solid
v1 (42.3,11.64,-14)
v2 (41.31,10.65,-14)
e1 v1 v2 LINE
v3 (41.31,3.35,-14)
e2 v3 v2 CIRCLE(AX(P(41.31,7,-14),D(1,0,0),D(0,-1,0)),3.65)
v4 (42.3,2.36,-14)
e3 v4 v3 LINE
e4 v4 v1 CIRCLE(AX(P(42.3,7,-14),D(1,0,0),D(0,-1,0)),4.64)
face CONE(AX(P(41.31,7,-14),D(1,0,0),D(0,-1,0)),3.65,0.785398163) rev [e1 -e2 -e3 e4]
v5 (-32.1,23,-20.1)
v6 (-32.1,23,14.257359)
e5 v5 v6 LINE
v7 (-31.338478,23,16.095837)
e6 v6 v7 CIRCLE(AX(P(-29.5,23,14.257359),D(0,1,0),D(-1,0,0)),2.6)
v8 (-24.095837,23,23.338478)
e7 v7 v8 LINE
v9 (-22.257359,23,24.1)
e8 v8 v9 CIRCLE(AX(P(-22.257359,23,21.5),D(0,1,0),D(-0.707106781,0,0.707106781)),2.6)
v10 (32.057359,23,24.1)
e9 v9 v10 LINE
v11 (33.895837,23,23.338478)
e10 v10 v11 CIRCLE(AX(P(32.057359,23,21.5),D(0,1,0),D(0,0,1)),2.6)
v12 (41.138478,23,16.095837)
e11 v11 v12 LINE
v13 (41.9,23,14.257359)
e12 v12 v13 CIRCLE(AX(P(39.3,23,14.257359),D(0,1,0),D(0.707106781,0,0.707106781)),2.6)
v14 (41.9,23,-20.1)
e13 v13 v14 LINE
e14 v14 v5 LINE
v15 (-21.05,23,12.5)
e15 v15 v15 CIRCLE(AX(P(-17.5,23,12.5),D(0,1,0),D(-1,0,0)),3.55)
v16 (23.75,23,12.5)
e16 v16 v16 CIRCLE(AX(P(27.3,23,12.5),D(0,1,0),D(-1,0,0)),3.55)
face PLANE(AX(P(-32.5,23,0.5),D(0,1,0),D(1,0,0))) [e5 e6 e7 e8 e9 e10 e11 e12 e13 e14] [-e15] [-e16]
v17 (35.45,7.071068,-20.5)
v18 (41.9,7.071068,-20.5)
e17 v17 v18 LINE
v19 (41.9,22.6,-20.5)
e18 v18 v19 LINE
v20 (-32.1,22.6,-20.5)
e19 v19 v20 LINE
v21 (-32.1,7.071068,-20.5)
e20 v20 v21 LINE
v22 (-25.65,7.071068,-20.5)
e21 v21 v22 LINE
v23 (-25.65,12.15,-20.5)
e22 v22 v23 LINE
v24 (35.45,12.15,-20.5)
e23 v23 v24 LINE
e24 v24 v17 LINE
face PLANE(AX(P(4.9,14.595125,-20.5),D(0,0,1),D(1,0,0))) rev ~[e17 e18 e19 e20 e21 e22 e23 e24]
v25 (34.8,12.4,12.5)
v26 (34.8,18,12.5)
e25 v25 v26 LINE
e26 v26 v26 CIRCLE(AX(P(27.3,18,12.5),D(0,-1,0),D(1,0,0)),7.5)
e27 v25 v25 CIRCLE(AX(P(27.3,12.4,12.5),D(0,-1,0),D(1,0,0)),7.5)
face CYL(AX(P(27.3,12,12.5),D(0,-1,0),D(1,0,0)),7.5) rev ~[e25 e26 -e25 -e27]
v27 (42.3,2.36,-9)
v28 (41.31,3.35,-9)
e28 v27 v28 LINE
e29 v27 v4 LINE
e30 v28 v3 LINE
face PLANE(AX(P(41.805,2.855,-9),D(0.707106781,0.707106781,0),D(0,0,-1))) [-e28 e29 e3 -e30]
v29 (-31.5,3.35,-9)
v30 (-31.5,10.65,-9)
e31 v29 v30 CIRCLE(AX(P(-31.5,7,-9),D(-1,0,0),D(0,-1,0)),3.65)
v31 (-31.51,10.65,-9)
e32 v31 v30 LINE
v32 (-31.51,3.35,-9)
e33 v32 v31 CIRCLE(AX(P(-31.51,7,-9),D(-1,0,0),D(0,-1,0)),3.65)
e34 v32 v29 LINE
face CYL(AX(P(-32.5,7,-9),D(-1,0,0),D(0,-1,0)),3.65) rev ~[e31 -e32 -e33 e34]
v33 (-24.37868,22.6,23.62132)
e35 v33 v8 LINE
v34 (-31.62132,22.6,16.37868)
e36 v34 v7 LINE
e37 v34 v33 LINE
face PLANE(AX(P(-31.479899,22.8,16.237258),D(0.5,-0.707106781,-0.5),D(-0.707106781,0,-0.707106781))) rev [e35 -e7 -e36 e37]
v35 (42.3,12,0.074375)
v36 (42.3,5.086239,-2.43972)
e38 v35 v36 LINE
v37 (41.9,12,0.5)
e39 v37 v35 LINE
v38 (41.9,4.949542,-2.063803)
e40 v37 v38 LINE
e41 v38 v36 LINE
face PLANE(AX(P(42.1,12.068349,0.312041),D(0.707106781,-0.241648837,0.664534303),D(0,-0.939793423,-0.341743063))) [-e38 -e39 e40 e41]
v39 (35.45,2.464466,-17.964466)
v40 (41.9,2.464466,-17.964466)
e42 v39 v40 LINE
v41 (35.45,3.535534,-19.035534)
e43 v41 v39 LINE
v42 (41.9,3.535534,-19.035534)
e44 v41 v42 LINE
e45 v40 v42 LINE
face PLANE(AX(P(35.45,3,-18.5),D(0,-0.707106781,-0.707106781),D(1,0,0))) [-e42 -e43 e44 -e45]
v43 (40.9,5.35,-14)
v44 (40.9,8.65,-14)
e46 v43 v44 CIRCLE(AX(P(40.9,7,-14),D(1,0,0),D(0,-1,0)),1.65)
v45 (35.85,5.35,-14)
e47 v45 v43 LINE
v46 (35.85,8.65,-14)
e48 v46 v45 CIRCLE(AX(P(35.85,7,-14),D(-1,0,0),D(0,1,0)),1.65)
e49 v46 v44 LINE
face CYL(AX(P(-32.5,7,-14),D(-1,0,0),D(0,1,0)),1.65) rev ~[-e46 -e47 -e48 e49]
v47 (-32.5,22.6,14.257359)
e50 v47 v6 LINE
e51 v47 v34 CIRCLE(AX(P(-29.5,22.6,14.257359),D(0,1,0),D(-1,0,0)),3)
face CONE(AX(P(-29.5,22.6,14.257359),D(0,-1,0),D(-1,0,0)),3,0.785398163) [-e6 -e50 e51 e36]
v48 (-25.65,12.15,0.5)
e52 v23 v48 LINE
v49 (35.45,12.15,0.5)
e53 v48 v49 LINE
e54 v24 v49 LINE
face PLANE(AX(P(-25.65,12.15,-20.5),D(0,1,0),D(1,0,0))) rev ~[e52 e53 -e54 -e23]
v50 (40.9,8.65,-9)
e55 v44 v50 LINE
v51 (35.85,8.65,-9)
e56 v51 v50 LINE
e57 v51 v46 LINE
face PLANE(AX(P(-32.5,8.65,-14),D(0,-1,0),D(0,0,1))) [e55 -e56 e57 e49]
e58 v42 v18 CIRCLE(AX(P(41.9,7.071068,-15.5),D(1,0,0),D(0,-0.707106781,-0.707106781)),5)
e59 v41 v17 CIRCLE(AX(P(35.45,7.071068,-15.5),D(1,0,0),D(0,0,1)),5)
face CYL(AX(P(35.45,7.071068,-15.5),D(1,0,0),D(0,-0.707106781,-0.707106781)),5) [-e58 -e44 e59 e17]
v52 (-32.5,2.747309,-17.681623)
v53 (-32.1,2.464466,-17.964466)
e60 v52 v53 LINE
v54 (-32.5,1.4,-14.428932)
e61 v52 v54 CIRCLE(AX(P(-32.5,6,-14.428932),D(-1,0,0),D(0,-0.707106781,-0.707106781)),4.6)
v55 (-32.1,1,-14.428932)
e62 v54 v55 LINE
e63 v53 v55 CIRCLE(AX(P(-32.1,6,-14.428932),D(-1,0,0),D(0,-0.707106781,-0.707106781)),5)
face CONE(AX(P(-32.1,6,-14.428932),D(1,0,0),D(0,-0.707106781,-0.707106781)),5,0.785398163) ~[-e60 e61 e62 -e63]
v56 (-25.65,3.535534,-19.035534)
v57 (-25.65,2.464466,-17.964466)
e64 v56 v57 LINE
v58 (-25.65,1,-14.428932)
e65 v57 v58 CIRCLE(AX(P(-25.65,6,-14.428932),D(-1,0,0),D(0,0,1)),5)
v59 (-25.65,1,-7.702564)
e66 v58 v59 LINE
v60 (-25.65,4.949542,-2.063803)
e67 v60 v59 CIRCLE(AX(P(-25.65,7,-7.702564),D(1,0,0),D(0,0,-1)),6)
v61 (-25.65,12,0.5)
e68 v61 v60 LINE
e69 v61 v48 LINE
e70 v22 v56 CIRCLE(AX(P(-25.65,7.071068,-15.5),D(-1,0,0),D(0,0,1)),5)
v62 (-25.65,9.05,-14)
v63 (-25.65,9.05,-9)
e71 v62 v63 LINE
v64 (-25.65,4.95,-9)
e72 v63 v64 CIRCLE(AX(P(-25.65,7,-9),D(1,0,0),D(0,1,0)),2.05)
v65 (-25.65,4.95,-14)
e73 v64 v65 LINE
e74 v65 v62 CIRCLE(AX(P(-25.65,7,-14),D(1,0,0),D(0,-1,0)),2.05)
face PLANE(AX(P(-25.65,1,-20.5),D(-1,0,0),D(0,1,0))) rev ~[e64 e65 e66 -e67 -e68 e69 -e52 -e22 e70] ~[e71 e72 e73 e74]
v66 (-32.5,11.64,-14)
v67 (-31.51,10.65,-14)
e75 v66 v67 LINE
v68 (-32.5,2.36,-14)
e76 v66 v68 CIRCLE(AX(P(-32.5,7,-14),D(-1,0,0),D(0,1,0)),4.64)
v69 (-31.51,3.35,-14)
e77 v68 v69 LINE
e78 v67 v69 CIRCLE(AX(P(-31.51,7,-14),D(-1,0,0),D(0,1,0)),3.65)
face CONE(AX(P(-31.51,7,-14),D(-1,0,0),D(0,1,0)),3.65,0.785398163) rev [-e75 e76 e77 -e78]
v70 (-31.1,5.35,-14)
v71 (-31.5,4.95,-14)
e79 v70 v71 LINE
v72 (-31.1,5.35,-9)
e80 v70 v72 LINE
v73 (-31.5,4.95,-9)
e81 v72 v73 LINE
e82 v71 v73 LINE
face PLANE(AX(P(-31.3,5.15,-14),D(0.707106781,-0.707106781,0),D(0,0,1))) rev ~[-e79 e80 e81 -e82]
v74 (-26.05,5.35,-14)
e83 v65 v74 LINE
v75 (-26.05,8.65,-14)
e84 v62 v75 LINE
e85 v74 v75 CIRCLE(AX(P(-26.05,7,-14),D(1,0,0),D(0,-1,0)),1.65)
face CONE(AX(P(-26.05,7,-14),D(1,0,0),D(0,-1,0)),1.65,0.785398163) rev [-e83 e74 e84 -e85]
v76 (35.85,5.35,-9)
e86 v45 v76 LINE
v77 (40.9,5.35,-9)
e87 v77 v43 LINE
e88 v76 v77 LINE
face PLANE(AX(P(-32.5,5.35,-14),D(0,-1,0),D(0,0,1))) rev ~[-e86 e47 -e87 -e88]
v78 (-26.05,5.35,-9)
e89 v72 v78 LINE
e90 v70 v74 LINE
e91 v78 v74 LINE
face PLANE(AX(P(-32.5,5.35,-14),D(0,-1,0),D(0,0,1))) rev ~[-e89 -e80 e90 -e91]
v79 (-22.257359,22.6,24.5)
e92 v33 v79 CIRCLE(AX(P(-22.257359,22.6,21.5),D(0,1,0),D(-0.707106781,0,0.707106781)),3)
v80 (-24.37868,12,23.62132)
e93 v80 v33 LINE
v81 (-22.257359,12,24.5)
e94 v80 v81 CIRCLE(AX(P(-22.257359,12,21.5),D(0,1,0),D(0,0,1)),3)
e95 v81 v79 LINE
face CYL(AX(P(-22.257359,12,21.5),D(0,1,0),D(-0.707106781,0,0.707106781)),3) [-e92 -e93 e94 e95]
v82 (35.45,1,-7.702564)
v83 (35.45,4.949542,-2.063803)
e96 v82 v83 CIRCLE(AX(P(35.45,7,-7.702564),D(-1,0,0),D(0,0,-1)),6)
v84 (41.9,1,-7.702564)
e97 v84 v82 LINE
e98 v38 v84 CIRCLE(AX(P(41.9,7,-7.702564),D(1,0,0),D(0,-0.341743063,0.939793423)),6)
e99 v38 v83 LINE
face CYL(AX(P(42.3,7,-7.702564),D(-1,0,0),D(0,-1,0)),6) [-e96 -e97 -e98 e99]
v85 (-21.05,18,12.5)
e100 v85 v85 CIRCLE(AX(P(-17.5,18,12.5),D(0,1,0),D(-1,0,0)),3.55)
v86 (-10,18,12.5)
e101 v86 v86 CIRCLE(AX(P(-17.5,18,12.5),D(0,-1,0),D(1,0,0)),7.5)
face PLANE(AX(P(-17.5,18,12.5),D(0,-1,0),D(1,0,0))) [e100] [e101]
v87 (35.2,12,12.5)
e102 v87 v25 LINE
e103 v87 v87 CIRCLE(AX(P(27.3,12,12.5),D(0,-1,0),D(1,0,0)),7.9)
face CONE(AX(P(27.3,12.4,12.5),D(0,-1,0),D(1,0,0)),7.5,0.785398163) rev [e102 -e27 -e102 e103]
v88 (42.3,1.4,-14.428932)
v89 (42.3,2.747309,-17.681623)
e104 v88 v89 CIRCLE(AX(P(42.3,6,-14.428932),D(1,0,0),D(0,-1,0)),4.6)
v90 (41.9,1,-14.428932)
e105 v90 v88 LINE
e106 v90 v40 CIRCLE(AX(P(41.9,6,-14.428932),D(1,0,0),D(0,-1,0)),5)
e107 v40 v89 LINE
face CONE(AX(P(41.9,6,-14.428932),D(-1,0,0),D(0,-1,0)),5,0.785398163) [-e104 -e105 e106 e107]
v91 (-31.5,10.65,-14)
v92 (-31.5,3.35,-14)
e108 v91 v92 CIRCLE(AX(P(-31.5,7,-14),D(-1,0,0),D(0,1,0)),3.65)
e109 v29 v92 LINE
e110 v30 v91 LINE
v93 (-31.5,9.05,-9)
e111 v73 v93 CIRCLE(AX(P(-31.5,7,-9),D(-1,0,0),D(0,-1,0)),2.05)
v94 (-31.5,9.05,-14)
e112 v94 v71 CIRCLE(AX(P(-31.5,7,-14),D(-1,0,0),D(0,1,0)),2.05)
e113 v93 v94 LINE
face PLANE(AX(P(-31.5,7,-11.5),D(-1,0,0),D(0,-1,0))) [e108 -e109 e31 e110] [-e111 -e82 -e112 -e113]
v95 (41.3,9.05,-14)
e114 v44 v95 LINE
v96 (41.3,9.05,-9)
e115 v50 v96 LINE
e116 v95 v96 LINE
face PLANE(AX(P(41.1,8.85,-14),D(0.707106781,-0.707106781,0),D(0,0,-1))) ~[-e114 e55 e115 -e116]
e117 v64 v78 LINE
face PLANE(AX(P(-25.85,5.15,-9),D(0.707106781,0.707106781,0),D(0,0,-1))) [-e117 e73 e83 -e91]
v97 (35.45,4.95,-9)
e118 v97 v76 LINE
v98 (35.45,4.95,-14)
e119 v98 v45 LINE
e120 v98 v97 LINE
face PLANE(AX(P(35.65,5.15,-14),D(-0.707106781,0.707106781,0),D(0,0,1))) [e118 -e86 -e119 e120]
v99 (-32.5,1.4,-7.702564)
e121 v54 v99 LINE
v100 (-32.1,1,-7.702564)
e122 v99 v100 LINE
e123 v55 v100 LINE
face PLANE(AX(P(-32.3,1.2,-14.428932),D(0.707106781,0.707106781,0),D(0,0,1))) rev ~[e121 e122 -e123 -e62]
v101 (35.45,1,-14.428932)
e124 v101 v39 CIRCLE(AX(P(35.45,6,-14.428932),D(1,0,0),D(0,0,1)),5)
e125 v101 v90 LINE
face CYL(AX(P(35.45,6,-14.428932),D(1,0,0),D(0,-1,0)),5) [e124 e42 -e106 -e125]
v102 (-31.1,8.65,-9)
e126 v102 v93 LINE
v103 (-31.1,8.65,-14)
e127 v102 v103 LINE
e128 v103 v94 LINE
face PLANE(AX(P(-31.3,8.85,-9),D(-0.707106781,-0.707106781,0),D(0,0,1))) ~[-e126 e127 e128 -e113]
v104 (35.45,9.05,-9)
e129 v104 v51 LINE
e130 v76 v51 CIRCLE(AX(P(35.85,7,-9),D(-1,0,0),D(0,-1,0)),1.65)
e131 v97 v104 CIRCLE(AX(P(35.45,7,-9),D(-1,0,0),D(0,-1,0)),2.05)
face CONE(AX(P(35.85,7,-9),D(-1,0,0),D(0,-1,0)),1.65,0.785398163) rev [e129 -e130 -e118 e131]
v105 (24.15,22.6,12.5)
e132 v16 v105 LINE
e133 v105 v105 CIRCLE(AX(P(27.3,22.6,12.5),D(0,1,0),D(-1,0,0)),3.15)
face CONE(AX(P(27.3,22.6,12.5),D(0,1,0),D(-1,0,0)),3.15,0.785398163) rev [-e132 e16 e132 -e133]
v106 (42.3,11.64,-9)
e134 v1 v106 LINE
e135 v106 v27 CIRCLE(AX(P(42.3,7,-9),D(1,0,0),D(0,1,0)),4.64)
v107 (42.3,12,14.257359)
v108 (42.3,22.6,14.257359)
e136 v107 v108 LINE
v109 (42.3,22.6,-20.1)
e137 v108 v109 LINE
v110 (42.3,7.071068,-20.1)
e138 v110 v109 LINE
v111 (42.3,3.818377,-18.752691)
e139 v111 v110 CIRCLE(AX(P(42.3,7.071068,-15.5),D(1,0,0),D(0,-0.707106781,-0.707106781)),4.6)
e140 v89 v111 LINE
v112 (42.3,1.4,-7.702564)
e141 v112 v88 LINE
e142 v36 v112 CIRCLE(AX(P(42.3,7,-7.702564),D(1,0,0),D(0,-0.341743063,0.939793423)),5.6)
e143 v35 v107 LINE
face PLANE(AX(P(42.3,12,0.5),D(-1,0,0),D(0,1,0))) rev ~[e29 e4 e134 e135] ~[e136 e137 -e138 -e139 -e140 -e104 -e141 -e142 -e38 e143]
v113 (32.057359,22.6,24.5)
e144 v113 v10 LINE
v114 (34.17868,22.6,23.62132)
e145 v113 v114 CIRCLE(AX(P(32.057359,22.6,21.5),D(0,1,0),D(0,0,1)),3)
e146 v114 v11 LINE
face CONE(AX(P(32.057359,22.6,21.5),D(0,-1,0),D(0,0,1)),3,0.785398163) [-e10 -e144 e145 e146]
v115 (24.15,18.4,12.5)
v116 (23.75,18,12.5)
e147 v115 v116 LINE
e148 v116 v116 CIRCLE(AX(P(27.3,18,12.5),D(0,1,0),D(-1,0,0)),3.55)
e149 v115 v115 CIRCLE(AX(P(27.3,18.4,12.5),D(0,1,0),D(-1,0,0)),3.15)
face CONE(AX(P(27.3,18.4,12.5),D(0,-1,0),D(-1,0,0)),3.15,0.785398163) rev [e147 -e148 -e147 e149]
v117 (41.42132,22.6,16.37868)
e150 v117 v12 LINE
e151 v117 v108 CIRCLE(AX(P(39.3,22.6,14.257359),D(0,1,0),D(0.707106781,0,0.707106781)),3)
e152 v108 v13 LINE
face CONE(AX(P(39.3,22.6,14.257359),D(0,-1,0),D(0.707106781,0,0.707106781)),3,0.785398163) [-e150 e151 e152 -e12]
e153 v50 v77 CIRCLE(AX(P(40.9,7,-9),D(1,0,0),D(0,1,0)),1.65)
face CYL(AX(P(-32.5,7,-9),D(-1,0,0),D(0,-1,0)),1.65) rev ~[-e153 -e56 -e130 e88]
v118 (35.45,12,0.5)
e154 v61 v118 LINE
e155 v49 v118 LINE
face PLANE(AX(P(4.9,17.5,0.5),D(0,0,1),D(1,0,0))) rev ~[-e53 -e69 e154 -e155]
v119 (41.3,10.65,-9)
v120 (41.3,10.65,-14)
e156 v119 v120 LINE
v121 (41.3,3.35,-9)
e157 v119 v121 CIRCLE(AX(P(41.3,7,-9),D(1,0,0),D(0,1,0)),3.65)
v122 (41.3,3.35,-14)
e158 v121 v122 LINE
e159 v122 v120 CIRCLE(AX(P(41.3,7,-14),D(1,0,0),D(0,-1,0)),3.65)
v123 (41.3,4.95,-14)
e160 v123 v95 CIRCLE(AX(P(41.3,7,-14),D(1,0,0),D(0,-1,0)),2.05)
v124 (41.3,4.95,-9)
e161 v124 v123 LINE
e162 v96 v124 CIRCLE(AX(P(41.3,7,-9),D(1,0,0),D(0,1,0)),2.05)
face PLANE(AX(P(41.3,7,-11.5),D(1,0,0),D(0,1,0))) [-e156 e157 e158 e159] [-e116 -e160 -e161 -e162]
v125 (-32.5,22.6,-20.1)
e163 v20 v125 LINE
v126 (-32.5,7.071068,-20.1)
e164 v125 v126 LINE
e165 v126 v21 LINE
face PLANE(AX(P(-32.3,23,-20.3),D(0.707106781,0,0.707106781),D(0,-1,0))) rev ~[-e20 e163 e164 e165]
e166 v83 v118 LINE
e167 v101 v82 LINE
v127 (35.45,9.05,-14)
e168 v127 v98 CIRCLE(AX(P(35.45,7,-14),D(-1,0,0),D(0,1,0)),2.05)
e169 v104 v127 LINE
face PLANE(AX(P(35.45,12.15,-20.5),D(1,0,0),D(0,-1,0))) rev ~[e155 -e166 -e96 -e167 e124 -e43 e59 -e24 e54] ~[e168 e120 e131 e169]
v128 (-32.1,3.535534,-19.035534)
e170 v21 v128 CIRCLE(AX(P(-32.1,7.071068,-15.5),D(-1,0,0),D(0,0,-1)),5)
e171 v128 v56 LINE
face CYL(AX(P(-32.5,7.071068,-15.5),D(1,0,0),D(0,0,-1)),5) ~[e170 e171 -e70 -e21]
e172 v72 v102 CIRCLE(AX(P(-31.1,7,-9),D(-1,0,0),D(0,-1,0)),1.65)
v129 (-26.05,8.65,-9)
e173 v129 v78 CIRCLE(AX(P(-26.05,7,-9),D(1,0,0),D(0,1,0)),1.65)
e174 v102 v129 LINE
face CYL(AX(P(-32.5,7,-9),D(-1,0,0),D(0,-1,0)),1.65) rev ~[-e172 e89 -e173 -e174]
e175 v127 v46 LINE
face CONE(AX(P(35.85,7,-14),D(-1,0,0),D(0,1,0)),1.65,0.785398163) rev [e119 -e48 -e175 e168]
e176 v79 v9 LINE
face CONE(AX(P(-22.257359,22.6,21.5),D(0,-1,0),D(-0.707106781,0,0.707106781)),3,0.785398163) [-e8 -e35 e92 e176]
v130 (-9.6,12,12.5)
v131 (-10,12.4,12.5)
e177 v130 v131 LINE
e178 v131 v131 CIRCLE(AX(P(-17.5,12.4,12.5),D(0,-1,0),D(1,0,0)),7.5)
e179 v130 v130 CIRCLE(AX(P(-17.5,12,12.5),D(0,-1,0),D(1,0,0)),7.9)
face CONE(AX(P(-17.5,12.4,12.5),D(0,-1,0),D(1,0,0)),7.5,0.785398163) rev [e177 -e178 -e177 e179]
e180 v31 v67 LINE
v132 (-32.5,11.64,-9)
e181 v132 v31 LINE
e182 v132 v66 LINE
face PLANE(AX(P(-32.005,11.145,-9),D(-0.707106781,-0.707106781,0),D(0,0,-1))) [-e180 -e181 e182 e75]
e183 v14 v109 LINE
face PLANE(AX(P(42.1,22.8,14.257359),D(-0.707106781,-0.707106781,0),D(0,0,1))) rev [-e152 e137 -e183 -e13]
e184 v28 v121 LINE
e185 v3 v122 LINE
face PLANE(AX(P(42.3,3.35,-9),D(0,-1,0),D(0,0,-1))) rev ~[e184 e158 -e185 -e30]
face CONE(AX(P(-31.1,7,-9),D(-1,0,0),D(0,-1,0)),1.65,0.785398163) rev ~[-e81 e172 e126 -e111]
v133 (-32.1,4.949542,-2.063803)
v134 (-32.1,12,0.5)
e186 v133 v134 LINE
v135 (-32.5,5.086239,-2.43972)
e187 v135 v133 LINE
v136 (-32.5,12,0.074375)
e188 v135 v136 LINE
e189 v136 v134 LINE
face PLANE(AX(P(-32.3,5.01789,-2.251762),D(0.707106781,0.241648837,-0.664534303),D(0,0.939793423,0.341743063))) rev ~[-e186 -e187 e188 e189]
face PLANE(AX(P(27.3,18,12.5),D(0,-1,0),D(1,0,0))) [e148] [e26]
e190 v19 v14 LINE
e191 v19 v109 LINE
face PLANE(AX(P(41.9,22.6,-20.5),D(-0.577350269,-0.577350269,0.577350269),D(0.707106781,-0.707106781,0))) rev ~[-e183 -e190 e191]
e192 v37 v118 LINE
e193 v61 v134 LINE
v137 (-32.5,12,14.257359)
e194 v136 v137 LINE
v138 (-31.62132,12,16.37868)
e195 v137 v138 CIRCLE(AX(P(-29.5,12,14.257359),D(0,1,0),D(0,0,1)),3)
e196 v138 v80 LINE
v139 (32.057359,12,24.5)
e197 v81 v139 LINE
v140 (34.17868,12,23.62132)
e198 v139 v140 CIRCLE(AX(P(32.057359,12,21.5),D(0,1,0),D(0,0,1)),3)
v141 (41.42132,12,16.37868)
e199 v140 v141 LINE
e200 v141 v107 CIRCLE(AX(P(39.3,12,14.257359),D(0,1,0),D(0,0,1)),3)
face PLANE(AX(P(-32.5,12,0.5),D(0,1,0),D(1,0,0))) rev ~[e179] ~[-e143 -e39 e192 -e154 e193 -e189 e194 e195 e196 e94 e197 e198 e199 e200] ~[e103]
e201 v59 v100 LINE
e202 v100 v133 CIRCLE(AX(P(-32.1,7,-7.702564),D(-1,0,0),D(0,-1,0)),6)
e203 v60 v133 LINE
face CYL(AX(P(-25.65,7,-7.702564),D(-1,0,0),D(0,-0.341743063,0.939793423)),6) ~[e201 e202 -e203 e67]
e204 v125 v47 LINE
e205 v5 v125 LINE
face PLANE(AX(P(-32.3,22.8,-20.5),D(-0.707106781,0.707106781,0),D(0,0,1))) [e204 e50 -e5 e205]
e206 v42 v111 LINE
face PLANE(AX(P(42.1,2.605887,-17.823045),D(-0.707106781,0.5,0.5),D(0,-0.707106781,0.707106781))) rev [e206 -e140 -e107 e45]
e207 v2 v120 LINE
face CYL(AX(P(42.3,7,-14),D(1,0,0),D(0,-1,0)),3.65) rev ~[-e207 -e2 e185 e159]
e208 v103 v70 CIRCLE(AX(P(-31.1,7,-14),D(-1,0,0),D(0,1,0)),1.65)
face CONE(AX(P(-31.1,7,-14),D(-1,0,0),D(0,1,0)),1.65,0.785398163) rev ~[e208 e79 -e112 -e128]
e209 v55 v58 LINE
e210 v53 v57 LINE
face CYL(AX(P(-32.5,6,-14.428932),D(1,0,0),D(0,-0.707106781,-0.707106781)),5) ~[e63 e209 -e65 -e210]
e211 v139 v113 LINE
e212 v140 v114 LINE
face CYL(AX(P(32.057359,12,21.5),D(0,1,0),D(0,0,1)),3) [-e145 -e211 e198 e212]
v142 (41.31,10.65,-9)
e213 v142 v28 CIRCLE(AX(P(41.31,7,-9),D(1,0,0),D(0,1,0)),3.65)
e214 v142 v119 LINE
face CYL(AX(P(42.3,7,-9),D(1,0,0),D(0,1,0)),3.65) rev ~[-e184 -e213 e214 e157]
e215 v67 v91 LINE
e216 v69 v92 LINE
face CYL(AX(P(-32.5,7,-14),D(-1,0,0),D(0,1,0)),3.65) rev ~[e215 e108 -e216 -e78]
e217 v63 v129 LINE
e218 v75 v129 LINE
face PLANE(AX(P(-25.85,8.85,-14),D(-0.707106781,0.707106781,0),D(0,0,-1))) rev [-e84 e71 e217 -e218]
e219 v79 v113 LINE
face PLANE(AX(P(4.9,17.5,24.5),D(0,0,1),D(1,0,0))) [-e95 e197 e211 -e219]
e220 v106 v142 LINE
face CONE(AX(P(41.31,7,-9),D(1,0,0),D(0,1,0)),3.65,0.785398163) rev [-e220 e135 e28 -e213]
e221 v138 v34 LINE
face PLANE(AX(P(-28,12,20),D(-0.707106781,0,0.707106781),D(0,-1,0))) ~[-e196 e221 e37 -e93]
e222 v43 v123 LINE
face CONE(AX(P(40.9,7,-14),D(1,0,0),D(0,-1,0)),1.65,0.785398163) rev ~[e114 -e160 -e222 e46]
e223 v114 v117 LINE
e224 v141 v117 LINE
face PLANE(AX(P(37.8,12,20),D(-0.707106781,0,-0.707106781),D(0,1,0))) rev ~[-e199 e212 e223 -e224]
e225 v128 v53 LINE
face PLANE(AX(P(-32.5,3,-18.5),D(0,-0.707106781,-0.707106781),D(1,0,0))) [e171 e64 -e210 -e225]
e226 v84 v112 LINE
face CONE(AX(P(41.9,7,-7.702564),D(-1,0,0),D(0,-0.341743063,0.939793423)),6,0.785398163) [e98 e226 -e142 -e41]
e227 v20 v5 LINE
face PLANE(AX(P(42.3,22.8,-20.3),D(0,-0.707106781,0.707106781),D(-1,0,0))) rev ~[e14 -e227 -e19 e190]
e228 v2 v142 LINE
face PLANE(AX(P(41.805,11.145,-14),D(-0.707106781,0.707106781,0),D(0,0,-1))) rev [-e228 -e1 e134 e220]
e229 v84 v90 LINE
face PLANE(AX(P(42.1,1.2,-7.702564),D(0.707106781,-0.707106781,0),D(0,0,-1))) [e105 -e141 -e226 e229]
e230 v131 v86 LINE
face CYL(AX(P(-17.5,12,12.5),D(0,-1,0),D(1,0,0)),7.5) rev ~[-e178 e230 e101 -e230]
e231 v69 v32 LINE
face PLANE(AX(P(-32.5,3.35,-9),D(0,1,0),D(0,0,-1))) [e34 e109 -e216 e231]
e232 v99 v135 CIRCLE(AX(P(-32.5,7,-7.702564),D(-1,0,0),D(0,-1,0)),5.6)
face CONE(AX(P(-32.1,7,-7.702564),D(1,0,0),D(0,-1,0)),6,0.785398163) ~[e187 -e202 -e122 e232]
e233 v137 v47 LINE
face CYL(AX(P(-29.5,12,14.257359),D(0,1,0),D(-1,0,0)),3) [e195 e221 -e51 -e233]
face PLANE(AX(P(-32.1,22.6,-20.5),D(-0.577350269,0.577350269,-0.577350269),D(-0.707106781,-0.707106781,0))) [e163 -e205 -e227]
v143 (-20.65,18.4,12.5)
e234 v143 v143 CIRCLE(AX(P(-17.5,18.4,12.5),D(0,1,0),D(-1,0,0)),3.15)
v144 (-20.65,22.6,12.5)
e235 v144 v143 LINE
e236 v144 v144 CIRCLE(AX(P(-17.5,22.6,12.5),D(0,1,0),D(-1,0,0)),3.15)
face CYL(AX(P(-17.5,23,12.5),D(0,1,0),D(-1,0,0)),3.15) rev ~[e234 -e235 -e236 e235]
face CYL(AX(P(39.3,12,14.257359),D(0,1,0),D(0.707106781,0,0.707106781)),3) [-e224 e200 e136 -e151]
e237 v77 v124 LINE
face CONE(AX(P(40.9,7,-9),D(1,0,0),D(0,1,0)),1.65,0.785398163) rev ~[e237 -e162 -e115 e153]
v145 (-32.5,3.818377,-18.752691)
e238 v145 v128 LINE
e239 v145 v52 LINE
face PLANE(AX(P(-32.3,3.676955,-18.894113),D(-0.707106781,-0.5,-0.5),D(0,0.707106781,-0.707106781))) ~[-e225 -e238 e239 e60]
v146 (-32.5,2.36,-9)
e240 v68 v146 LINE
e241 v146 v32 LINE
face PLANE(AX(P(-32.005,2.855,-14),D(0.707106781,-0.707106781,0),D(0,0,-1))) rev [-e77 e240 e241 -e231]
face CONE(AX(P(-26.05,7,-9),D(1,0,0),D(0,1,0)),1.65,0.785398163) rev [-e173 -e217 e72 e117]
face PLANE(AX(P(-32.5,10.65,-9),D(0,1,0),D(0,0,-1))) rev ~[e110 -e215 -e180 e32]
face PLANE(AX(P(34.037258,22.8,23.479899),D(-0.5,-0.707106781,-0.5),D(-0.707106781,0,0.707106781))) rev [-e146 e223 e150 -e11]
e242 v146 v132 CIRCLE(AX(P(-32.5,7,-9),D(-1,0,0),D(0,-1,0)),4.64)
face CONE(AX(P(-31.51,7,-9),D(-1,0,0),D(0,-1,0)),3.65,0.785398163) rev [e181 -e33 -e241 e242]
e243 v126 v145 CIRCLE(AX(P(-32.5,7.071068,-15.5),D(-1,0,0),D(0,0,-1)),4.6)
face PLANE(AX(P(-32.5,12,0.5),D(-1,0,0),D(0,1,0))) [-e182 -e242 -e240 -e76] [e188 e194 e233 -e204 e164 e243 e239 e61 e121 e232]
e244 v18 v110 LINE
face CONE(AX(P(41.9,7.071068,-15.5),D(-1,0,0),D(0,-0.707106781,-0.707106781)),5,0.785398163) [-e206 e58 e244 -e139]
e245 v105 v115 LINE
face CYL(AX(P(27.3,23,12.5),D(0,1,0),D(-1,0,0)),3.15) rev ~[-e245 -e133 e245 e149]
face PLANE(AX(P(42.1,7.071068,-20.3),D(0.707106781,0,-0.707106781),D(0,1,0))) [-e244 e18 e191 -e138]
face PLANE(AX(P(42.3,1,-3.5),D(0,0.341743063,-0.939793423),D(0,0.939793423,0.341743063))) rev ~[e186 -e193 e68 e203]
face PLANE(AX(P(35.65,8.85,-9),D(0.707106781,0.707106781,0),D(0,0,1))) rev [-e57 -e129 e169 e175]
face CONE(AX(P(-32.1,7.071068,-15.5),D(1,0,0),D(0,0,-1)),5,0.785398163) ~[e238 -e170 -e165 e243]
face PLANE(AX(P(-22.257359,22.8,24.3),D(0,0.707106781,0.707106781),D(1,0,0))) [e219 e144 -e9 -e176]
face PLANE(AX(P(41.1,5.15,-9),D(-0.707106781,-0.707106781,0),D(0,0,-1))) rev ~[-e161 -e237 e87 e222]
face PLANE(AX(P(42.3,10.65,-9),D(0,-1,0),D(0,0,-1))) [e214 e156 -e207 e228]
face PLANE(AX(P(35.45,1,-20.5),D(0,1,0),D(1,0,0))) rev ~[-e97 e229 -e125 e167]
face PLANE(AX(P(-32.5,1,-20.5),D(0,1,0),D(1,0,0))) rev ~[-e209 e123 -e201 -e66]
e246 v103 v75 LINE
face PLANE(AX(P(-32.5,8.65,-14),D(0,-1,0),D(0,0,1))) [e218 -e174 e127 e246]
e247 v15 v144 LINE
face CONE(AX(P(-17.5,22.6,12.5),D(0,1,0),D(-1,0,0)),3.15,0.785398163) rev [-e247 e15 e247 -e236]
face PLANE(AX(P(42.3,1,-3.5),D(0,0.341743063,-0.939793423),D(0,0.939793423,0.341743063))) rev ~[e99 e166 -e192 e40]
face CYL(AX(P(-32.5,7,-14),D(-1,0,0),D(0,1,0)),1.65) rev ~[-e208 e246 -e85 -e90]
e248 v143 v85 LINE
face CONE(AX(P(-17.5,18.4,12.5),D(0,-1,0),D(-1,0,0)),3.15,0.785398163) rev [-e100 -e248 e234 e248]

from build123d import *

# Parameters (mm, degrees)
PAD008_DEPTH    = 21
POCKET020_DEPTH = 74.801
POCKET021_DEPTH = 1
CHAMFER008_SIZE = 0.99
POCKET022_DEPTH = 1
CHAMFER009_SIZE = 0.99
POCKET023_DEPTH = 74.801
CHAMFER010_SIZE = 4
FILLET003_R     = 6
FILLET004_R     = 5
SKETCH033_W     = 74.8
SKETCH033_H     = 11
PAD009_DEPTH    = 24
SKETCH034_R     = 3.15
POCKET024_DEPTH = 22.001
SKETCH035_R     = 7.5
POCKET025_DEPTH = 6
CHAMFER011_SIZE = 9
FILLET005_R     = 3
CHAMFER012_SIZE = 0.4


with BuildPart() as part:
    # Sketch028 → Pad008 (new body)
    with BuildSketch(Plane.XY):
        Polygon((-25.65, -11), (-25.65, 0.15), (35.45, 0.15), (35.45, -11), (42.3, -11), (42.3, 11), (-32.5, 11), (-32.5, -11), align=None)
    extrude(amount=PAD008_DEPTH)

    # Sketch029 (on Face7 of Pad008) → Pocket020 (cut, through all)
    with BuildSketch(Plane(origin=(-32.5, 0, 0), x_dir=(0, -1, 0), z_dir=(-1, 0, 0))):
        with BuildLine():
            ThreePointArc((3.35, 6.5), (5, 4.85), (6.65, 6.5))
            Line((6.65, 6.5), (6.65, 11.5))
            ThreePointArc((6.65, 11.5), (5, 13.15), (3.35, 11.5))
            Line((3.35, 6.5), (3.35, 11.5))
        make_face()
    extrude(amount=-POCKET020_DEPTH, mode=Mode.SUBTRACT)

    # Sketch030 (on Face10 of Pocket020) → Pocket021 (cut)
    with BuildSketch(Plane(origin=(-32.5, 0, 0), x_dir=(0, -1, 0), z_dir=(-1, 0, 0))):
        with BuildLine():
            ThreePointArc((8.65, 11.5), (5, 15.15), (1.35, 11.5))
            Line((1.35, 11.5), (1.35, 6.5))
            ThreePointArc((1.35, 6.5), (5, 2.85), (8.65, 6.5))
            Line((8.65, 11.5), (8.65, 6.5))
        make_face()
    extrude(amount=-POCKET021_DEPTH, mode=Mode.SUBTRACT)

    # Chamfer008
    chamfer008_edges = [part.edges().sort_by_distance(p)[0] for p in [
        (-32.5, -1.35, 9),
    ]]
    chamfer(chamfer008_edges, length=CHAMFER008_SIZE)

    # Sketch031 (on Face14 of Chamfer008) → Pocket022 (cut)
    with BuildSketch(Plane.YZ.offset(42.3)):
        with BuildLine():
            ThreePointArc((-1.35, 11.5), (-5, 15.15), (-8.65, 11.5))
            Line((-8.65, 11.5), (-8.65, 6.5))
            ThreePointArc((-8.65, 6.5), (-5, 2.85), (-1.35, 6.5))
            Line((-1.35, 11.5), (-1.35, 6.5))
        make_face()
    extrude(amount=-POCKET022_DEPTH, mode=Mode.SUBTRACT)

    # Chamfer009
    chamfer009_edges = [part.edges().sort_by_distance(p)[0] for p in [
        (42.3, -8.65, 9),
    ]]
    chamfer(chamfer009_edges, length=CHAMFER009_SIZE)

    # Sketch032 (on Face1 of Chamfer009) → Pocket023 (cut, through all)
    with BuildSketch(Plane.YZ.offset(42.3)):
        Polygon((0, 21), (-11, 21), (-11, 17), align=None)
    extrude(amount=-POCKET023_DEPTH, mode=Mode.SUBTRACT)

    # Chamfer010
    chamfer010_edges = [part.edges().sort_by_distance(p)[0] for p in [
        (38.875, -11, 0),
        (-29.075, -11, 0),
    ]]
    chamfer(chamfer010_edges, length=CHAMFER010_SIZE)

    # Fillet003
    fillet003_edges = [part.edges().sort_by_distance(p)[0] for p in [
        (-29.075, -11, 17),
        (38.875, -11, 17),
    ]]
    fillet(fillet003_edges, radius=FILLET003_R)

    # Fillet004
    fillet004_edges = [part.edges().sort_by_distance(p)[0] for p in [
        (-29.075, -11, 4),
        (-29.075, -7, 0),
        (38.875, -11, 4),
        (38.875, -7, 0),
    ]]
    fillet(fillet004_edges, radius=FILLET004_R)

    # Sketch033 (on Face8 of Fillet004) → Pad009 (join)
    with BuildSketch(Plane.XY.offset(21)):
        with Locations((4.9, 5.5)):
            Rectangle(SKETCH033_W, SKETCH033_H)
    extrude(amount=PAD009_DEPTH)

    # Sketch034 (on Face17 of Pad009) → Pocket024 (cut, through all)
    with BuildSketch(Plane(origin=(0, 11, 0), x_dir=(-1, 0, 0), z_dir=(0, 1, 0))):
        with Locations((-27.3, 33)):
            Circle(SKETCH034_R)
        with Locations((17.5, 33)):
            Circle(SKETCH034_R)
    extrude(amount=-POCKET024_DEPTH, mode=Mode.SUBTRACT)

    # Sketch035 (on Face16 of Pocket024) → Pocket025 (cut)
    with BuildSketch(Plane.XZ):
        with Locations((-17.5, 33)):
            Circle(SKETCH035_R)
        with Locations((27.3, 33)):
            Circle(SKETCH035_R)
    extrude(amount=-POCKET025_DEPTH, mode=Mode.SUBTRACT)

    # Chamfer011
    chamfer011_edges = [part.edges().sort_by_distance(p)[0] for p in [
        (-32.5, 5.5, 45),
        (42.3, 5.5, 45),
    ]]
    chamfer(chamfer011_edges, length=CHAMFER011_SIZE)

    # Fillet005
    fillet005_edges = [part.edges().sort_by_distance(p)[0] for p in [
        (-32.5, 5.5, 36),
        (-23.5, 5.5, 45),
        (33.3, 5.5, 45),
        (42.3, 5.5, 36),
    ]]
    fillet(fillet005_edges, radius=FILLET005_R)

    # Chamfer012
    chamfer012_edges = [part.edges().sort_by_distance(p)[0] for p in [
        (-32.271639, 11, 35.90541),
        (-28, 11, 40.5),
        (-23.40541, 11, 44.771639),
        (4.9, 11, 45),
        (33.20541, 11, 44.771639),
        (37.8, 11, 40.5),
        (42.071639, 11, 35.90541),
        (42.3, 11, 17.37868),
        (4.9, 11, 0),
        (-32.5, 11, 17.37868),
        (-14.35, 11, 33),
        (30.45, 11, 33),
        (-32.5, 3.035534, 0),
        (-25, 0, 33),
        (-14.35, 6, 33),
        (19.8, 0, 33),
        (30.45, 6, 33),
        (42.3, 3.035534, 0),
        (-25.65, -3.35, 9),
        (35.45, -3.35, 9),
        (-31.5, -3.35, 9),
        (41.3, -3.35, 9),
    ]]
    chamfer(chamfer012_edges, length=CHAMFER012_SIZE)


with BuildPart() as part_1:
    # Body004005 placement: moved
    add(part.part.moved(Location((0, 12, -20.5))))


solid = part_1.part
